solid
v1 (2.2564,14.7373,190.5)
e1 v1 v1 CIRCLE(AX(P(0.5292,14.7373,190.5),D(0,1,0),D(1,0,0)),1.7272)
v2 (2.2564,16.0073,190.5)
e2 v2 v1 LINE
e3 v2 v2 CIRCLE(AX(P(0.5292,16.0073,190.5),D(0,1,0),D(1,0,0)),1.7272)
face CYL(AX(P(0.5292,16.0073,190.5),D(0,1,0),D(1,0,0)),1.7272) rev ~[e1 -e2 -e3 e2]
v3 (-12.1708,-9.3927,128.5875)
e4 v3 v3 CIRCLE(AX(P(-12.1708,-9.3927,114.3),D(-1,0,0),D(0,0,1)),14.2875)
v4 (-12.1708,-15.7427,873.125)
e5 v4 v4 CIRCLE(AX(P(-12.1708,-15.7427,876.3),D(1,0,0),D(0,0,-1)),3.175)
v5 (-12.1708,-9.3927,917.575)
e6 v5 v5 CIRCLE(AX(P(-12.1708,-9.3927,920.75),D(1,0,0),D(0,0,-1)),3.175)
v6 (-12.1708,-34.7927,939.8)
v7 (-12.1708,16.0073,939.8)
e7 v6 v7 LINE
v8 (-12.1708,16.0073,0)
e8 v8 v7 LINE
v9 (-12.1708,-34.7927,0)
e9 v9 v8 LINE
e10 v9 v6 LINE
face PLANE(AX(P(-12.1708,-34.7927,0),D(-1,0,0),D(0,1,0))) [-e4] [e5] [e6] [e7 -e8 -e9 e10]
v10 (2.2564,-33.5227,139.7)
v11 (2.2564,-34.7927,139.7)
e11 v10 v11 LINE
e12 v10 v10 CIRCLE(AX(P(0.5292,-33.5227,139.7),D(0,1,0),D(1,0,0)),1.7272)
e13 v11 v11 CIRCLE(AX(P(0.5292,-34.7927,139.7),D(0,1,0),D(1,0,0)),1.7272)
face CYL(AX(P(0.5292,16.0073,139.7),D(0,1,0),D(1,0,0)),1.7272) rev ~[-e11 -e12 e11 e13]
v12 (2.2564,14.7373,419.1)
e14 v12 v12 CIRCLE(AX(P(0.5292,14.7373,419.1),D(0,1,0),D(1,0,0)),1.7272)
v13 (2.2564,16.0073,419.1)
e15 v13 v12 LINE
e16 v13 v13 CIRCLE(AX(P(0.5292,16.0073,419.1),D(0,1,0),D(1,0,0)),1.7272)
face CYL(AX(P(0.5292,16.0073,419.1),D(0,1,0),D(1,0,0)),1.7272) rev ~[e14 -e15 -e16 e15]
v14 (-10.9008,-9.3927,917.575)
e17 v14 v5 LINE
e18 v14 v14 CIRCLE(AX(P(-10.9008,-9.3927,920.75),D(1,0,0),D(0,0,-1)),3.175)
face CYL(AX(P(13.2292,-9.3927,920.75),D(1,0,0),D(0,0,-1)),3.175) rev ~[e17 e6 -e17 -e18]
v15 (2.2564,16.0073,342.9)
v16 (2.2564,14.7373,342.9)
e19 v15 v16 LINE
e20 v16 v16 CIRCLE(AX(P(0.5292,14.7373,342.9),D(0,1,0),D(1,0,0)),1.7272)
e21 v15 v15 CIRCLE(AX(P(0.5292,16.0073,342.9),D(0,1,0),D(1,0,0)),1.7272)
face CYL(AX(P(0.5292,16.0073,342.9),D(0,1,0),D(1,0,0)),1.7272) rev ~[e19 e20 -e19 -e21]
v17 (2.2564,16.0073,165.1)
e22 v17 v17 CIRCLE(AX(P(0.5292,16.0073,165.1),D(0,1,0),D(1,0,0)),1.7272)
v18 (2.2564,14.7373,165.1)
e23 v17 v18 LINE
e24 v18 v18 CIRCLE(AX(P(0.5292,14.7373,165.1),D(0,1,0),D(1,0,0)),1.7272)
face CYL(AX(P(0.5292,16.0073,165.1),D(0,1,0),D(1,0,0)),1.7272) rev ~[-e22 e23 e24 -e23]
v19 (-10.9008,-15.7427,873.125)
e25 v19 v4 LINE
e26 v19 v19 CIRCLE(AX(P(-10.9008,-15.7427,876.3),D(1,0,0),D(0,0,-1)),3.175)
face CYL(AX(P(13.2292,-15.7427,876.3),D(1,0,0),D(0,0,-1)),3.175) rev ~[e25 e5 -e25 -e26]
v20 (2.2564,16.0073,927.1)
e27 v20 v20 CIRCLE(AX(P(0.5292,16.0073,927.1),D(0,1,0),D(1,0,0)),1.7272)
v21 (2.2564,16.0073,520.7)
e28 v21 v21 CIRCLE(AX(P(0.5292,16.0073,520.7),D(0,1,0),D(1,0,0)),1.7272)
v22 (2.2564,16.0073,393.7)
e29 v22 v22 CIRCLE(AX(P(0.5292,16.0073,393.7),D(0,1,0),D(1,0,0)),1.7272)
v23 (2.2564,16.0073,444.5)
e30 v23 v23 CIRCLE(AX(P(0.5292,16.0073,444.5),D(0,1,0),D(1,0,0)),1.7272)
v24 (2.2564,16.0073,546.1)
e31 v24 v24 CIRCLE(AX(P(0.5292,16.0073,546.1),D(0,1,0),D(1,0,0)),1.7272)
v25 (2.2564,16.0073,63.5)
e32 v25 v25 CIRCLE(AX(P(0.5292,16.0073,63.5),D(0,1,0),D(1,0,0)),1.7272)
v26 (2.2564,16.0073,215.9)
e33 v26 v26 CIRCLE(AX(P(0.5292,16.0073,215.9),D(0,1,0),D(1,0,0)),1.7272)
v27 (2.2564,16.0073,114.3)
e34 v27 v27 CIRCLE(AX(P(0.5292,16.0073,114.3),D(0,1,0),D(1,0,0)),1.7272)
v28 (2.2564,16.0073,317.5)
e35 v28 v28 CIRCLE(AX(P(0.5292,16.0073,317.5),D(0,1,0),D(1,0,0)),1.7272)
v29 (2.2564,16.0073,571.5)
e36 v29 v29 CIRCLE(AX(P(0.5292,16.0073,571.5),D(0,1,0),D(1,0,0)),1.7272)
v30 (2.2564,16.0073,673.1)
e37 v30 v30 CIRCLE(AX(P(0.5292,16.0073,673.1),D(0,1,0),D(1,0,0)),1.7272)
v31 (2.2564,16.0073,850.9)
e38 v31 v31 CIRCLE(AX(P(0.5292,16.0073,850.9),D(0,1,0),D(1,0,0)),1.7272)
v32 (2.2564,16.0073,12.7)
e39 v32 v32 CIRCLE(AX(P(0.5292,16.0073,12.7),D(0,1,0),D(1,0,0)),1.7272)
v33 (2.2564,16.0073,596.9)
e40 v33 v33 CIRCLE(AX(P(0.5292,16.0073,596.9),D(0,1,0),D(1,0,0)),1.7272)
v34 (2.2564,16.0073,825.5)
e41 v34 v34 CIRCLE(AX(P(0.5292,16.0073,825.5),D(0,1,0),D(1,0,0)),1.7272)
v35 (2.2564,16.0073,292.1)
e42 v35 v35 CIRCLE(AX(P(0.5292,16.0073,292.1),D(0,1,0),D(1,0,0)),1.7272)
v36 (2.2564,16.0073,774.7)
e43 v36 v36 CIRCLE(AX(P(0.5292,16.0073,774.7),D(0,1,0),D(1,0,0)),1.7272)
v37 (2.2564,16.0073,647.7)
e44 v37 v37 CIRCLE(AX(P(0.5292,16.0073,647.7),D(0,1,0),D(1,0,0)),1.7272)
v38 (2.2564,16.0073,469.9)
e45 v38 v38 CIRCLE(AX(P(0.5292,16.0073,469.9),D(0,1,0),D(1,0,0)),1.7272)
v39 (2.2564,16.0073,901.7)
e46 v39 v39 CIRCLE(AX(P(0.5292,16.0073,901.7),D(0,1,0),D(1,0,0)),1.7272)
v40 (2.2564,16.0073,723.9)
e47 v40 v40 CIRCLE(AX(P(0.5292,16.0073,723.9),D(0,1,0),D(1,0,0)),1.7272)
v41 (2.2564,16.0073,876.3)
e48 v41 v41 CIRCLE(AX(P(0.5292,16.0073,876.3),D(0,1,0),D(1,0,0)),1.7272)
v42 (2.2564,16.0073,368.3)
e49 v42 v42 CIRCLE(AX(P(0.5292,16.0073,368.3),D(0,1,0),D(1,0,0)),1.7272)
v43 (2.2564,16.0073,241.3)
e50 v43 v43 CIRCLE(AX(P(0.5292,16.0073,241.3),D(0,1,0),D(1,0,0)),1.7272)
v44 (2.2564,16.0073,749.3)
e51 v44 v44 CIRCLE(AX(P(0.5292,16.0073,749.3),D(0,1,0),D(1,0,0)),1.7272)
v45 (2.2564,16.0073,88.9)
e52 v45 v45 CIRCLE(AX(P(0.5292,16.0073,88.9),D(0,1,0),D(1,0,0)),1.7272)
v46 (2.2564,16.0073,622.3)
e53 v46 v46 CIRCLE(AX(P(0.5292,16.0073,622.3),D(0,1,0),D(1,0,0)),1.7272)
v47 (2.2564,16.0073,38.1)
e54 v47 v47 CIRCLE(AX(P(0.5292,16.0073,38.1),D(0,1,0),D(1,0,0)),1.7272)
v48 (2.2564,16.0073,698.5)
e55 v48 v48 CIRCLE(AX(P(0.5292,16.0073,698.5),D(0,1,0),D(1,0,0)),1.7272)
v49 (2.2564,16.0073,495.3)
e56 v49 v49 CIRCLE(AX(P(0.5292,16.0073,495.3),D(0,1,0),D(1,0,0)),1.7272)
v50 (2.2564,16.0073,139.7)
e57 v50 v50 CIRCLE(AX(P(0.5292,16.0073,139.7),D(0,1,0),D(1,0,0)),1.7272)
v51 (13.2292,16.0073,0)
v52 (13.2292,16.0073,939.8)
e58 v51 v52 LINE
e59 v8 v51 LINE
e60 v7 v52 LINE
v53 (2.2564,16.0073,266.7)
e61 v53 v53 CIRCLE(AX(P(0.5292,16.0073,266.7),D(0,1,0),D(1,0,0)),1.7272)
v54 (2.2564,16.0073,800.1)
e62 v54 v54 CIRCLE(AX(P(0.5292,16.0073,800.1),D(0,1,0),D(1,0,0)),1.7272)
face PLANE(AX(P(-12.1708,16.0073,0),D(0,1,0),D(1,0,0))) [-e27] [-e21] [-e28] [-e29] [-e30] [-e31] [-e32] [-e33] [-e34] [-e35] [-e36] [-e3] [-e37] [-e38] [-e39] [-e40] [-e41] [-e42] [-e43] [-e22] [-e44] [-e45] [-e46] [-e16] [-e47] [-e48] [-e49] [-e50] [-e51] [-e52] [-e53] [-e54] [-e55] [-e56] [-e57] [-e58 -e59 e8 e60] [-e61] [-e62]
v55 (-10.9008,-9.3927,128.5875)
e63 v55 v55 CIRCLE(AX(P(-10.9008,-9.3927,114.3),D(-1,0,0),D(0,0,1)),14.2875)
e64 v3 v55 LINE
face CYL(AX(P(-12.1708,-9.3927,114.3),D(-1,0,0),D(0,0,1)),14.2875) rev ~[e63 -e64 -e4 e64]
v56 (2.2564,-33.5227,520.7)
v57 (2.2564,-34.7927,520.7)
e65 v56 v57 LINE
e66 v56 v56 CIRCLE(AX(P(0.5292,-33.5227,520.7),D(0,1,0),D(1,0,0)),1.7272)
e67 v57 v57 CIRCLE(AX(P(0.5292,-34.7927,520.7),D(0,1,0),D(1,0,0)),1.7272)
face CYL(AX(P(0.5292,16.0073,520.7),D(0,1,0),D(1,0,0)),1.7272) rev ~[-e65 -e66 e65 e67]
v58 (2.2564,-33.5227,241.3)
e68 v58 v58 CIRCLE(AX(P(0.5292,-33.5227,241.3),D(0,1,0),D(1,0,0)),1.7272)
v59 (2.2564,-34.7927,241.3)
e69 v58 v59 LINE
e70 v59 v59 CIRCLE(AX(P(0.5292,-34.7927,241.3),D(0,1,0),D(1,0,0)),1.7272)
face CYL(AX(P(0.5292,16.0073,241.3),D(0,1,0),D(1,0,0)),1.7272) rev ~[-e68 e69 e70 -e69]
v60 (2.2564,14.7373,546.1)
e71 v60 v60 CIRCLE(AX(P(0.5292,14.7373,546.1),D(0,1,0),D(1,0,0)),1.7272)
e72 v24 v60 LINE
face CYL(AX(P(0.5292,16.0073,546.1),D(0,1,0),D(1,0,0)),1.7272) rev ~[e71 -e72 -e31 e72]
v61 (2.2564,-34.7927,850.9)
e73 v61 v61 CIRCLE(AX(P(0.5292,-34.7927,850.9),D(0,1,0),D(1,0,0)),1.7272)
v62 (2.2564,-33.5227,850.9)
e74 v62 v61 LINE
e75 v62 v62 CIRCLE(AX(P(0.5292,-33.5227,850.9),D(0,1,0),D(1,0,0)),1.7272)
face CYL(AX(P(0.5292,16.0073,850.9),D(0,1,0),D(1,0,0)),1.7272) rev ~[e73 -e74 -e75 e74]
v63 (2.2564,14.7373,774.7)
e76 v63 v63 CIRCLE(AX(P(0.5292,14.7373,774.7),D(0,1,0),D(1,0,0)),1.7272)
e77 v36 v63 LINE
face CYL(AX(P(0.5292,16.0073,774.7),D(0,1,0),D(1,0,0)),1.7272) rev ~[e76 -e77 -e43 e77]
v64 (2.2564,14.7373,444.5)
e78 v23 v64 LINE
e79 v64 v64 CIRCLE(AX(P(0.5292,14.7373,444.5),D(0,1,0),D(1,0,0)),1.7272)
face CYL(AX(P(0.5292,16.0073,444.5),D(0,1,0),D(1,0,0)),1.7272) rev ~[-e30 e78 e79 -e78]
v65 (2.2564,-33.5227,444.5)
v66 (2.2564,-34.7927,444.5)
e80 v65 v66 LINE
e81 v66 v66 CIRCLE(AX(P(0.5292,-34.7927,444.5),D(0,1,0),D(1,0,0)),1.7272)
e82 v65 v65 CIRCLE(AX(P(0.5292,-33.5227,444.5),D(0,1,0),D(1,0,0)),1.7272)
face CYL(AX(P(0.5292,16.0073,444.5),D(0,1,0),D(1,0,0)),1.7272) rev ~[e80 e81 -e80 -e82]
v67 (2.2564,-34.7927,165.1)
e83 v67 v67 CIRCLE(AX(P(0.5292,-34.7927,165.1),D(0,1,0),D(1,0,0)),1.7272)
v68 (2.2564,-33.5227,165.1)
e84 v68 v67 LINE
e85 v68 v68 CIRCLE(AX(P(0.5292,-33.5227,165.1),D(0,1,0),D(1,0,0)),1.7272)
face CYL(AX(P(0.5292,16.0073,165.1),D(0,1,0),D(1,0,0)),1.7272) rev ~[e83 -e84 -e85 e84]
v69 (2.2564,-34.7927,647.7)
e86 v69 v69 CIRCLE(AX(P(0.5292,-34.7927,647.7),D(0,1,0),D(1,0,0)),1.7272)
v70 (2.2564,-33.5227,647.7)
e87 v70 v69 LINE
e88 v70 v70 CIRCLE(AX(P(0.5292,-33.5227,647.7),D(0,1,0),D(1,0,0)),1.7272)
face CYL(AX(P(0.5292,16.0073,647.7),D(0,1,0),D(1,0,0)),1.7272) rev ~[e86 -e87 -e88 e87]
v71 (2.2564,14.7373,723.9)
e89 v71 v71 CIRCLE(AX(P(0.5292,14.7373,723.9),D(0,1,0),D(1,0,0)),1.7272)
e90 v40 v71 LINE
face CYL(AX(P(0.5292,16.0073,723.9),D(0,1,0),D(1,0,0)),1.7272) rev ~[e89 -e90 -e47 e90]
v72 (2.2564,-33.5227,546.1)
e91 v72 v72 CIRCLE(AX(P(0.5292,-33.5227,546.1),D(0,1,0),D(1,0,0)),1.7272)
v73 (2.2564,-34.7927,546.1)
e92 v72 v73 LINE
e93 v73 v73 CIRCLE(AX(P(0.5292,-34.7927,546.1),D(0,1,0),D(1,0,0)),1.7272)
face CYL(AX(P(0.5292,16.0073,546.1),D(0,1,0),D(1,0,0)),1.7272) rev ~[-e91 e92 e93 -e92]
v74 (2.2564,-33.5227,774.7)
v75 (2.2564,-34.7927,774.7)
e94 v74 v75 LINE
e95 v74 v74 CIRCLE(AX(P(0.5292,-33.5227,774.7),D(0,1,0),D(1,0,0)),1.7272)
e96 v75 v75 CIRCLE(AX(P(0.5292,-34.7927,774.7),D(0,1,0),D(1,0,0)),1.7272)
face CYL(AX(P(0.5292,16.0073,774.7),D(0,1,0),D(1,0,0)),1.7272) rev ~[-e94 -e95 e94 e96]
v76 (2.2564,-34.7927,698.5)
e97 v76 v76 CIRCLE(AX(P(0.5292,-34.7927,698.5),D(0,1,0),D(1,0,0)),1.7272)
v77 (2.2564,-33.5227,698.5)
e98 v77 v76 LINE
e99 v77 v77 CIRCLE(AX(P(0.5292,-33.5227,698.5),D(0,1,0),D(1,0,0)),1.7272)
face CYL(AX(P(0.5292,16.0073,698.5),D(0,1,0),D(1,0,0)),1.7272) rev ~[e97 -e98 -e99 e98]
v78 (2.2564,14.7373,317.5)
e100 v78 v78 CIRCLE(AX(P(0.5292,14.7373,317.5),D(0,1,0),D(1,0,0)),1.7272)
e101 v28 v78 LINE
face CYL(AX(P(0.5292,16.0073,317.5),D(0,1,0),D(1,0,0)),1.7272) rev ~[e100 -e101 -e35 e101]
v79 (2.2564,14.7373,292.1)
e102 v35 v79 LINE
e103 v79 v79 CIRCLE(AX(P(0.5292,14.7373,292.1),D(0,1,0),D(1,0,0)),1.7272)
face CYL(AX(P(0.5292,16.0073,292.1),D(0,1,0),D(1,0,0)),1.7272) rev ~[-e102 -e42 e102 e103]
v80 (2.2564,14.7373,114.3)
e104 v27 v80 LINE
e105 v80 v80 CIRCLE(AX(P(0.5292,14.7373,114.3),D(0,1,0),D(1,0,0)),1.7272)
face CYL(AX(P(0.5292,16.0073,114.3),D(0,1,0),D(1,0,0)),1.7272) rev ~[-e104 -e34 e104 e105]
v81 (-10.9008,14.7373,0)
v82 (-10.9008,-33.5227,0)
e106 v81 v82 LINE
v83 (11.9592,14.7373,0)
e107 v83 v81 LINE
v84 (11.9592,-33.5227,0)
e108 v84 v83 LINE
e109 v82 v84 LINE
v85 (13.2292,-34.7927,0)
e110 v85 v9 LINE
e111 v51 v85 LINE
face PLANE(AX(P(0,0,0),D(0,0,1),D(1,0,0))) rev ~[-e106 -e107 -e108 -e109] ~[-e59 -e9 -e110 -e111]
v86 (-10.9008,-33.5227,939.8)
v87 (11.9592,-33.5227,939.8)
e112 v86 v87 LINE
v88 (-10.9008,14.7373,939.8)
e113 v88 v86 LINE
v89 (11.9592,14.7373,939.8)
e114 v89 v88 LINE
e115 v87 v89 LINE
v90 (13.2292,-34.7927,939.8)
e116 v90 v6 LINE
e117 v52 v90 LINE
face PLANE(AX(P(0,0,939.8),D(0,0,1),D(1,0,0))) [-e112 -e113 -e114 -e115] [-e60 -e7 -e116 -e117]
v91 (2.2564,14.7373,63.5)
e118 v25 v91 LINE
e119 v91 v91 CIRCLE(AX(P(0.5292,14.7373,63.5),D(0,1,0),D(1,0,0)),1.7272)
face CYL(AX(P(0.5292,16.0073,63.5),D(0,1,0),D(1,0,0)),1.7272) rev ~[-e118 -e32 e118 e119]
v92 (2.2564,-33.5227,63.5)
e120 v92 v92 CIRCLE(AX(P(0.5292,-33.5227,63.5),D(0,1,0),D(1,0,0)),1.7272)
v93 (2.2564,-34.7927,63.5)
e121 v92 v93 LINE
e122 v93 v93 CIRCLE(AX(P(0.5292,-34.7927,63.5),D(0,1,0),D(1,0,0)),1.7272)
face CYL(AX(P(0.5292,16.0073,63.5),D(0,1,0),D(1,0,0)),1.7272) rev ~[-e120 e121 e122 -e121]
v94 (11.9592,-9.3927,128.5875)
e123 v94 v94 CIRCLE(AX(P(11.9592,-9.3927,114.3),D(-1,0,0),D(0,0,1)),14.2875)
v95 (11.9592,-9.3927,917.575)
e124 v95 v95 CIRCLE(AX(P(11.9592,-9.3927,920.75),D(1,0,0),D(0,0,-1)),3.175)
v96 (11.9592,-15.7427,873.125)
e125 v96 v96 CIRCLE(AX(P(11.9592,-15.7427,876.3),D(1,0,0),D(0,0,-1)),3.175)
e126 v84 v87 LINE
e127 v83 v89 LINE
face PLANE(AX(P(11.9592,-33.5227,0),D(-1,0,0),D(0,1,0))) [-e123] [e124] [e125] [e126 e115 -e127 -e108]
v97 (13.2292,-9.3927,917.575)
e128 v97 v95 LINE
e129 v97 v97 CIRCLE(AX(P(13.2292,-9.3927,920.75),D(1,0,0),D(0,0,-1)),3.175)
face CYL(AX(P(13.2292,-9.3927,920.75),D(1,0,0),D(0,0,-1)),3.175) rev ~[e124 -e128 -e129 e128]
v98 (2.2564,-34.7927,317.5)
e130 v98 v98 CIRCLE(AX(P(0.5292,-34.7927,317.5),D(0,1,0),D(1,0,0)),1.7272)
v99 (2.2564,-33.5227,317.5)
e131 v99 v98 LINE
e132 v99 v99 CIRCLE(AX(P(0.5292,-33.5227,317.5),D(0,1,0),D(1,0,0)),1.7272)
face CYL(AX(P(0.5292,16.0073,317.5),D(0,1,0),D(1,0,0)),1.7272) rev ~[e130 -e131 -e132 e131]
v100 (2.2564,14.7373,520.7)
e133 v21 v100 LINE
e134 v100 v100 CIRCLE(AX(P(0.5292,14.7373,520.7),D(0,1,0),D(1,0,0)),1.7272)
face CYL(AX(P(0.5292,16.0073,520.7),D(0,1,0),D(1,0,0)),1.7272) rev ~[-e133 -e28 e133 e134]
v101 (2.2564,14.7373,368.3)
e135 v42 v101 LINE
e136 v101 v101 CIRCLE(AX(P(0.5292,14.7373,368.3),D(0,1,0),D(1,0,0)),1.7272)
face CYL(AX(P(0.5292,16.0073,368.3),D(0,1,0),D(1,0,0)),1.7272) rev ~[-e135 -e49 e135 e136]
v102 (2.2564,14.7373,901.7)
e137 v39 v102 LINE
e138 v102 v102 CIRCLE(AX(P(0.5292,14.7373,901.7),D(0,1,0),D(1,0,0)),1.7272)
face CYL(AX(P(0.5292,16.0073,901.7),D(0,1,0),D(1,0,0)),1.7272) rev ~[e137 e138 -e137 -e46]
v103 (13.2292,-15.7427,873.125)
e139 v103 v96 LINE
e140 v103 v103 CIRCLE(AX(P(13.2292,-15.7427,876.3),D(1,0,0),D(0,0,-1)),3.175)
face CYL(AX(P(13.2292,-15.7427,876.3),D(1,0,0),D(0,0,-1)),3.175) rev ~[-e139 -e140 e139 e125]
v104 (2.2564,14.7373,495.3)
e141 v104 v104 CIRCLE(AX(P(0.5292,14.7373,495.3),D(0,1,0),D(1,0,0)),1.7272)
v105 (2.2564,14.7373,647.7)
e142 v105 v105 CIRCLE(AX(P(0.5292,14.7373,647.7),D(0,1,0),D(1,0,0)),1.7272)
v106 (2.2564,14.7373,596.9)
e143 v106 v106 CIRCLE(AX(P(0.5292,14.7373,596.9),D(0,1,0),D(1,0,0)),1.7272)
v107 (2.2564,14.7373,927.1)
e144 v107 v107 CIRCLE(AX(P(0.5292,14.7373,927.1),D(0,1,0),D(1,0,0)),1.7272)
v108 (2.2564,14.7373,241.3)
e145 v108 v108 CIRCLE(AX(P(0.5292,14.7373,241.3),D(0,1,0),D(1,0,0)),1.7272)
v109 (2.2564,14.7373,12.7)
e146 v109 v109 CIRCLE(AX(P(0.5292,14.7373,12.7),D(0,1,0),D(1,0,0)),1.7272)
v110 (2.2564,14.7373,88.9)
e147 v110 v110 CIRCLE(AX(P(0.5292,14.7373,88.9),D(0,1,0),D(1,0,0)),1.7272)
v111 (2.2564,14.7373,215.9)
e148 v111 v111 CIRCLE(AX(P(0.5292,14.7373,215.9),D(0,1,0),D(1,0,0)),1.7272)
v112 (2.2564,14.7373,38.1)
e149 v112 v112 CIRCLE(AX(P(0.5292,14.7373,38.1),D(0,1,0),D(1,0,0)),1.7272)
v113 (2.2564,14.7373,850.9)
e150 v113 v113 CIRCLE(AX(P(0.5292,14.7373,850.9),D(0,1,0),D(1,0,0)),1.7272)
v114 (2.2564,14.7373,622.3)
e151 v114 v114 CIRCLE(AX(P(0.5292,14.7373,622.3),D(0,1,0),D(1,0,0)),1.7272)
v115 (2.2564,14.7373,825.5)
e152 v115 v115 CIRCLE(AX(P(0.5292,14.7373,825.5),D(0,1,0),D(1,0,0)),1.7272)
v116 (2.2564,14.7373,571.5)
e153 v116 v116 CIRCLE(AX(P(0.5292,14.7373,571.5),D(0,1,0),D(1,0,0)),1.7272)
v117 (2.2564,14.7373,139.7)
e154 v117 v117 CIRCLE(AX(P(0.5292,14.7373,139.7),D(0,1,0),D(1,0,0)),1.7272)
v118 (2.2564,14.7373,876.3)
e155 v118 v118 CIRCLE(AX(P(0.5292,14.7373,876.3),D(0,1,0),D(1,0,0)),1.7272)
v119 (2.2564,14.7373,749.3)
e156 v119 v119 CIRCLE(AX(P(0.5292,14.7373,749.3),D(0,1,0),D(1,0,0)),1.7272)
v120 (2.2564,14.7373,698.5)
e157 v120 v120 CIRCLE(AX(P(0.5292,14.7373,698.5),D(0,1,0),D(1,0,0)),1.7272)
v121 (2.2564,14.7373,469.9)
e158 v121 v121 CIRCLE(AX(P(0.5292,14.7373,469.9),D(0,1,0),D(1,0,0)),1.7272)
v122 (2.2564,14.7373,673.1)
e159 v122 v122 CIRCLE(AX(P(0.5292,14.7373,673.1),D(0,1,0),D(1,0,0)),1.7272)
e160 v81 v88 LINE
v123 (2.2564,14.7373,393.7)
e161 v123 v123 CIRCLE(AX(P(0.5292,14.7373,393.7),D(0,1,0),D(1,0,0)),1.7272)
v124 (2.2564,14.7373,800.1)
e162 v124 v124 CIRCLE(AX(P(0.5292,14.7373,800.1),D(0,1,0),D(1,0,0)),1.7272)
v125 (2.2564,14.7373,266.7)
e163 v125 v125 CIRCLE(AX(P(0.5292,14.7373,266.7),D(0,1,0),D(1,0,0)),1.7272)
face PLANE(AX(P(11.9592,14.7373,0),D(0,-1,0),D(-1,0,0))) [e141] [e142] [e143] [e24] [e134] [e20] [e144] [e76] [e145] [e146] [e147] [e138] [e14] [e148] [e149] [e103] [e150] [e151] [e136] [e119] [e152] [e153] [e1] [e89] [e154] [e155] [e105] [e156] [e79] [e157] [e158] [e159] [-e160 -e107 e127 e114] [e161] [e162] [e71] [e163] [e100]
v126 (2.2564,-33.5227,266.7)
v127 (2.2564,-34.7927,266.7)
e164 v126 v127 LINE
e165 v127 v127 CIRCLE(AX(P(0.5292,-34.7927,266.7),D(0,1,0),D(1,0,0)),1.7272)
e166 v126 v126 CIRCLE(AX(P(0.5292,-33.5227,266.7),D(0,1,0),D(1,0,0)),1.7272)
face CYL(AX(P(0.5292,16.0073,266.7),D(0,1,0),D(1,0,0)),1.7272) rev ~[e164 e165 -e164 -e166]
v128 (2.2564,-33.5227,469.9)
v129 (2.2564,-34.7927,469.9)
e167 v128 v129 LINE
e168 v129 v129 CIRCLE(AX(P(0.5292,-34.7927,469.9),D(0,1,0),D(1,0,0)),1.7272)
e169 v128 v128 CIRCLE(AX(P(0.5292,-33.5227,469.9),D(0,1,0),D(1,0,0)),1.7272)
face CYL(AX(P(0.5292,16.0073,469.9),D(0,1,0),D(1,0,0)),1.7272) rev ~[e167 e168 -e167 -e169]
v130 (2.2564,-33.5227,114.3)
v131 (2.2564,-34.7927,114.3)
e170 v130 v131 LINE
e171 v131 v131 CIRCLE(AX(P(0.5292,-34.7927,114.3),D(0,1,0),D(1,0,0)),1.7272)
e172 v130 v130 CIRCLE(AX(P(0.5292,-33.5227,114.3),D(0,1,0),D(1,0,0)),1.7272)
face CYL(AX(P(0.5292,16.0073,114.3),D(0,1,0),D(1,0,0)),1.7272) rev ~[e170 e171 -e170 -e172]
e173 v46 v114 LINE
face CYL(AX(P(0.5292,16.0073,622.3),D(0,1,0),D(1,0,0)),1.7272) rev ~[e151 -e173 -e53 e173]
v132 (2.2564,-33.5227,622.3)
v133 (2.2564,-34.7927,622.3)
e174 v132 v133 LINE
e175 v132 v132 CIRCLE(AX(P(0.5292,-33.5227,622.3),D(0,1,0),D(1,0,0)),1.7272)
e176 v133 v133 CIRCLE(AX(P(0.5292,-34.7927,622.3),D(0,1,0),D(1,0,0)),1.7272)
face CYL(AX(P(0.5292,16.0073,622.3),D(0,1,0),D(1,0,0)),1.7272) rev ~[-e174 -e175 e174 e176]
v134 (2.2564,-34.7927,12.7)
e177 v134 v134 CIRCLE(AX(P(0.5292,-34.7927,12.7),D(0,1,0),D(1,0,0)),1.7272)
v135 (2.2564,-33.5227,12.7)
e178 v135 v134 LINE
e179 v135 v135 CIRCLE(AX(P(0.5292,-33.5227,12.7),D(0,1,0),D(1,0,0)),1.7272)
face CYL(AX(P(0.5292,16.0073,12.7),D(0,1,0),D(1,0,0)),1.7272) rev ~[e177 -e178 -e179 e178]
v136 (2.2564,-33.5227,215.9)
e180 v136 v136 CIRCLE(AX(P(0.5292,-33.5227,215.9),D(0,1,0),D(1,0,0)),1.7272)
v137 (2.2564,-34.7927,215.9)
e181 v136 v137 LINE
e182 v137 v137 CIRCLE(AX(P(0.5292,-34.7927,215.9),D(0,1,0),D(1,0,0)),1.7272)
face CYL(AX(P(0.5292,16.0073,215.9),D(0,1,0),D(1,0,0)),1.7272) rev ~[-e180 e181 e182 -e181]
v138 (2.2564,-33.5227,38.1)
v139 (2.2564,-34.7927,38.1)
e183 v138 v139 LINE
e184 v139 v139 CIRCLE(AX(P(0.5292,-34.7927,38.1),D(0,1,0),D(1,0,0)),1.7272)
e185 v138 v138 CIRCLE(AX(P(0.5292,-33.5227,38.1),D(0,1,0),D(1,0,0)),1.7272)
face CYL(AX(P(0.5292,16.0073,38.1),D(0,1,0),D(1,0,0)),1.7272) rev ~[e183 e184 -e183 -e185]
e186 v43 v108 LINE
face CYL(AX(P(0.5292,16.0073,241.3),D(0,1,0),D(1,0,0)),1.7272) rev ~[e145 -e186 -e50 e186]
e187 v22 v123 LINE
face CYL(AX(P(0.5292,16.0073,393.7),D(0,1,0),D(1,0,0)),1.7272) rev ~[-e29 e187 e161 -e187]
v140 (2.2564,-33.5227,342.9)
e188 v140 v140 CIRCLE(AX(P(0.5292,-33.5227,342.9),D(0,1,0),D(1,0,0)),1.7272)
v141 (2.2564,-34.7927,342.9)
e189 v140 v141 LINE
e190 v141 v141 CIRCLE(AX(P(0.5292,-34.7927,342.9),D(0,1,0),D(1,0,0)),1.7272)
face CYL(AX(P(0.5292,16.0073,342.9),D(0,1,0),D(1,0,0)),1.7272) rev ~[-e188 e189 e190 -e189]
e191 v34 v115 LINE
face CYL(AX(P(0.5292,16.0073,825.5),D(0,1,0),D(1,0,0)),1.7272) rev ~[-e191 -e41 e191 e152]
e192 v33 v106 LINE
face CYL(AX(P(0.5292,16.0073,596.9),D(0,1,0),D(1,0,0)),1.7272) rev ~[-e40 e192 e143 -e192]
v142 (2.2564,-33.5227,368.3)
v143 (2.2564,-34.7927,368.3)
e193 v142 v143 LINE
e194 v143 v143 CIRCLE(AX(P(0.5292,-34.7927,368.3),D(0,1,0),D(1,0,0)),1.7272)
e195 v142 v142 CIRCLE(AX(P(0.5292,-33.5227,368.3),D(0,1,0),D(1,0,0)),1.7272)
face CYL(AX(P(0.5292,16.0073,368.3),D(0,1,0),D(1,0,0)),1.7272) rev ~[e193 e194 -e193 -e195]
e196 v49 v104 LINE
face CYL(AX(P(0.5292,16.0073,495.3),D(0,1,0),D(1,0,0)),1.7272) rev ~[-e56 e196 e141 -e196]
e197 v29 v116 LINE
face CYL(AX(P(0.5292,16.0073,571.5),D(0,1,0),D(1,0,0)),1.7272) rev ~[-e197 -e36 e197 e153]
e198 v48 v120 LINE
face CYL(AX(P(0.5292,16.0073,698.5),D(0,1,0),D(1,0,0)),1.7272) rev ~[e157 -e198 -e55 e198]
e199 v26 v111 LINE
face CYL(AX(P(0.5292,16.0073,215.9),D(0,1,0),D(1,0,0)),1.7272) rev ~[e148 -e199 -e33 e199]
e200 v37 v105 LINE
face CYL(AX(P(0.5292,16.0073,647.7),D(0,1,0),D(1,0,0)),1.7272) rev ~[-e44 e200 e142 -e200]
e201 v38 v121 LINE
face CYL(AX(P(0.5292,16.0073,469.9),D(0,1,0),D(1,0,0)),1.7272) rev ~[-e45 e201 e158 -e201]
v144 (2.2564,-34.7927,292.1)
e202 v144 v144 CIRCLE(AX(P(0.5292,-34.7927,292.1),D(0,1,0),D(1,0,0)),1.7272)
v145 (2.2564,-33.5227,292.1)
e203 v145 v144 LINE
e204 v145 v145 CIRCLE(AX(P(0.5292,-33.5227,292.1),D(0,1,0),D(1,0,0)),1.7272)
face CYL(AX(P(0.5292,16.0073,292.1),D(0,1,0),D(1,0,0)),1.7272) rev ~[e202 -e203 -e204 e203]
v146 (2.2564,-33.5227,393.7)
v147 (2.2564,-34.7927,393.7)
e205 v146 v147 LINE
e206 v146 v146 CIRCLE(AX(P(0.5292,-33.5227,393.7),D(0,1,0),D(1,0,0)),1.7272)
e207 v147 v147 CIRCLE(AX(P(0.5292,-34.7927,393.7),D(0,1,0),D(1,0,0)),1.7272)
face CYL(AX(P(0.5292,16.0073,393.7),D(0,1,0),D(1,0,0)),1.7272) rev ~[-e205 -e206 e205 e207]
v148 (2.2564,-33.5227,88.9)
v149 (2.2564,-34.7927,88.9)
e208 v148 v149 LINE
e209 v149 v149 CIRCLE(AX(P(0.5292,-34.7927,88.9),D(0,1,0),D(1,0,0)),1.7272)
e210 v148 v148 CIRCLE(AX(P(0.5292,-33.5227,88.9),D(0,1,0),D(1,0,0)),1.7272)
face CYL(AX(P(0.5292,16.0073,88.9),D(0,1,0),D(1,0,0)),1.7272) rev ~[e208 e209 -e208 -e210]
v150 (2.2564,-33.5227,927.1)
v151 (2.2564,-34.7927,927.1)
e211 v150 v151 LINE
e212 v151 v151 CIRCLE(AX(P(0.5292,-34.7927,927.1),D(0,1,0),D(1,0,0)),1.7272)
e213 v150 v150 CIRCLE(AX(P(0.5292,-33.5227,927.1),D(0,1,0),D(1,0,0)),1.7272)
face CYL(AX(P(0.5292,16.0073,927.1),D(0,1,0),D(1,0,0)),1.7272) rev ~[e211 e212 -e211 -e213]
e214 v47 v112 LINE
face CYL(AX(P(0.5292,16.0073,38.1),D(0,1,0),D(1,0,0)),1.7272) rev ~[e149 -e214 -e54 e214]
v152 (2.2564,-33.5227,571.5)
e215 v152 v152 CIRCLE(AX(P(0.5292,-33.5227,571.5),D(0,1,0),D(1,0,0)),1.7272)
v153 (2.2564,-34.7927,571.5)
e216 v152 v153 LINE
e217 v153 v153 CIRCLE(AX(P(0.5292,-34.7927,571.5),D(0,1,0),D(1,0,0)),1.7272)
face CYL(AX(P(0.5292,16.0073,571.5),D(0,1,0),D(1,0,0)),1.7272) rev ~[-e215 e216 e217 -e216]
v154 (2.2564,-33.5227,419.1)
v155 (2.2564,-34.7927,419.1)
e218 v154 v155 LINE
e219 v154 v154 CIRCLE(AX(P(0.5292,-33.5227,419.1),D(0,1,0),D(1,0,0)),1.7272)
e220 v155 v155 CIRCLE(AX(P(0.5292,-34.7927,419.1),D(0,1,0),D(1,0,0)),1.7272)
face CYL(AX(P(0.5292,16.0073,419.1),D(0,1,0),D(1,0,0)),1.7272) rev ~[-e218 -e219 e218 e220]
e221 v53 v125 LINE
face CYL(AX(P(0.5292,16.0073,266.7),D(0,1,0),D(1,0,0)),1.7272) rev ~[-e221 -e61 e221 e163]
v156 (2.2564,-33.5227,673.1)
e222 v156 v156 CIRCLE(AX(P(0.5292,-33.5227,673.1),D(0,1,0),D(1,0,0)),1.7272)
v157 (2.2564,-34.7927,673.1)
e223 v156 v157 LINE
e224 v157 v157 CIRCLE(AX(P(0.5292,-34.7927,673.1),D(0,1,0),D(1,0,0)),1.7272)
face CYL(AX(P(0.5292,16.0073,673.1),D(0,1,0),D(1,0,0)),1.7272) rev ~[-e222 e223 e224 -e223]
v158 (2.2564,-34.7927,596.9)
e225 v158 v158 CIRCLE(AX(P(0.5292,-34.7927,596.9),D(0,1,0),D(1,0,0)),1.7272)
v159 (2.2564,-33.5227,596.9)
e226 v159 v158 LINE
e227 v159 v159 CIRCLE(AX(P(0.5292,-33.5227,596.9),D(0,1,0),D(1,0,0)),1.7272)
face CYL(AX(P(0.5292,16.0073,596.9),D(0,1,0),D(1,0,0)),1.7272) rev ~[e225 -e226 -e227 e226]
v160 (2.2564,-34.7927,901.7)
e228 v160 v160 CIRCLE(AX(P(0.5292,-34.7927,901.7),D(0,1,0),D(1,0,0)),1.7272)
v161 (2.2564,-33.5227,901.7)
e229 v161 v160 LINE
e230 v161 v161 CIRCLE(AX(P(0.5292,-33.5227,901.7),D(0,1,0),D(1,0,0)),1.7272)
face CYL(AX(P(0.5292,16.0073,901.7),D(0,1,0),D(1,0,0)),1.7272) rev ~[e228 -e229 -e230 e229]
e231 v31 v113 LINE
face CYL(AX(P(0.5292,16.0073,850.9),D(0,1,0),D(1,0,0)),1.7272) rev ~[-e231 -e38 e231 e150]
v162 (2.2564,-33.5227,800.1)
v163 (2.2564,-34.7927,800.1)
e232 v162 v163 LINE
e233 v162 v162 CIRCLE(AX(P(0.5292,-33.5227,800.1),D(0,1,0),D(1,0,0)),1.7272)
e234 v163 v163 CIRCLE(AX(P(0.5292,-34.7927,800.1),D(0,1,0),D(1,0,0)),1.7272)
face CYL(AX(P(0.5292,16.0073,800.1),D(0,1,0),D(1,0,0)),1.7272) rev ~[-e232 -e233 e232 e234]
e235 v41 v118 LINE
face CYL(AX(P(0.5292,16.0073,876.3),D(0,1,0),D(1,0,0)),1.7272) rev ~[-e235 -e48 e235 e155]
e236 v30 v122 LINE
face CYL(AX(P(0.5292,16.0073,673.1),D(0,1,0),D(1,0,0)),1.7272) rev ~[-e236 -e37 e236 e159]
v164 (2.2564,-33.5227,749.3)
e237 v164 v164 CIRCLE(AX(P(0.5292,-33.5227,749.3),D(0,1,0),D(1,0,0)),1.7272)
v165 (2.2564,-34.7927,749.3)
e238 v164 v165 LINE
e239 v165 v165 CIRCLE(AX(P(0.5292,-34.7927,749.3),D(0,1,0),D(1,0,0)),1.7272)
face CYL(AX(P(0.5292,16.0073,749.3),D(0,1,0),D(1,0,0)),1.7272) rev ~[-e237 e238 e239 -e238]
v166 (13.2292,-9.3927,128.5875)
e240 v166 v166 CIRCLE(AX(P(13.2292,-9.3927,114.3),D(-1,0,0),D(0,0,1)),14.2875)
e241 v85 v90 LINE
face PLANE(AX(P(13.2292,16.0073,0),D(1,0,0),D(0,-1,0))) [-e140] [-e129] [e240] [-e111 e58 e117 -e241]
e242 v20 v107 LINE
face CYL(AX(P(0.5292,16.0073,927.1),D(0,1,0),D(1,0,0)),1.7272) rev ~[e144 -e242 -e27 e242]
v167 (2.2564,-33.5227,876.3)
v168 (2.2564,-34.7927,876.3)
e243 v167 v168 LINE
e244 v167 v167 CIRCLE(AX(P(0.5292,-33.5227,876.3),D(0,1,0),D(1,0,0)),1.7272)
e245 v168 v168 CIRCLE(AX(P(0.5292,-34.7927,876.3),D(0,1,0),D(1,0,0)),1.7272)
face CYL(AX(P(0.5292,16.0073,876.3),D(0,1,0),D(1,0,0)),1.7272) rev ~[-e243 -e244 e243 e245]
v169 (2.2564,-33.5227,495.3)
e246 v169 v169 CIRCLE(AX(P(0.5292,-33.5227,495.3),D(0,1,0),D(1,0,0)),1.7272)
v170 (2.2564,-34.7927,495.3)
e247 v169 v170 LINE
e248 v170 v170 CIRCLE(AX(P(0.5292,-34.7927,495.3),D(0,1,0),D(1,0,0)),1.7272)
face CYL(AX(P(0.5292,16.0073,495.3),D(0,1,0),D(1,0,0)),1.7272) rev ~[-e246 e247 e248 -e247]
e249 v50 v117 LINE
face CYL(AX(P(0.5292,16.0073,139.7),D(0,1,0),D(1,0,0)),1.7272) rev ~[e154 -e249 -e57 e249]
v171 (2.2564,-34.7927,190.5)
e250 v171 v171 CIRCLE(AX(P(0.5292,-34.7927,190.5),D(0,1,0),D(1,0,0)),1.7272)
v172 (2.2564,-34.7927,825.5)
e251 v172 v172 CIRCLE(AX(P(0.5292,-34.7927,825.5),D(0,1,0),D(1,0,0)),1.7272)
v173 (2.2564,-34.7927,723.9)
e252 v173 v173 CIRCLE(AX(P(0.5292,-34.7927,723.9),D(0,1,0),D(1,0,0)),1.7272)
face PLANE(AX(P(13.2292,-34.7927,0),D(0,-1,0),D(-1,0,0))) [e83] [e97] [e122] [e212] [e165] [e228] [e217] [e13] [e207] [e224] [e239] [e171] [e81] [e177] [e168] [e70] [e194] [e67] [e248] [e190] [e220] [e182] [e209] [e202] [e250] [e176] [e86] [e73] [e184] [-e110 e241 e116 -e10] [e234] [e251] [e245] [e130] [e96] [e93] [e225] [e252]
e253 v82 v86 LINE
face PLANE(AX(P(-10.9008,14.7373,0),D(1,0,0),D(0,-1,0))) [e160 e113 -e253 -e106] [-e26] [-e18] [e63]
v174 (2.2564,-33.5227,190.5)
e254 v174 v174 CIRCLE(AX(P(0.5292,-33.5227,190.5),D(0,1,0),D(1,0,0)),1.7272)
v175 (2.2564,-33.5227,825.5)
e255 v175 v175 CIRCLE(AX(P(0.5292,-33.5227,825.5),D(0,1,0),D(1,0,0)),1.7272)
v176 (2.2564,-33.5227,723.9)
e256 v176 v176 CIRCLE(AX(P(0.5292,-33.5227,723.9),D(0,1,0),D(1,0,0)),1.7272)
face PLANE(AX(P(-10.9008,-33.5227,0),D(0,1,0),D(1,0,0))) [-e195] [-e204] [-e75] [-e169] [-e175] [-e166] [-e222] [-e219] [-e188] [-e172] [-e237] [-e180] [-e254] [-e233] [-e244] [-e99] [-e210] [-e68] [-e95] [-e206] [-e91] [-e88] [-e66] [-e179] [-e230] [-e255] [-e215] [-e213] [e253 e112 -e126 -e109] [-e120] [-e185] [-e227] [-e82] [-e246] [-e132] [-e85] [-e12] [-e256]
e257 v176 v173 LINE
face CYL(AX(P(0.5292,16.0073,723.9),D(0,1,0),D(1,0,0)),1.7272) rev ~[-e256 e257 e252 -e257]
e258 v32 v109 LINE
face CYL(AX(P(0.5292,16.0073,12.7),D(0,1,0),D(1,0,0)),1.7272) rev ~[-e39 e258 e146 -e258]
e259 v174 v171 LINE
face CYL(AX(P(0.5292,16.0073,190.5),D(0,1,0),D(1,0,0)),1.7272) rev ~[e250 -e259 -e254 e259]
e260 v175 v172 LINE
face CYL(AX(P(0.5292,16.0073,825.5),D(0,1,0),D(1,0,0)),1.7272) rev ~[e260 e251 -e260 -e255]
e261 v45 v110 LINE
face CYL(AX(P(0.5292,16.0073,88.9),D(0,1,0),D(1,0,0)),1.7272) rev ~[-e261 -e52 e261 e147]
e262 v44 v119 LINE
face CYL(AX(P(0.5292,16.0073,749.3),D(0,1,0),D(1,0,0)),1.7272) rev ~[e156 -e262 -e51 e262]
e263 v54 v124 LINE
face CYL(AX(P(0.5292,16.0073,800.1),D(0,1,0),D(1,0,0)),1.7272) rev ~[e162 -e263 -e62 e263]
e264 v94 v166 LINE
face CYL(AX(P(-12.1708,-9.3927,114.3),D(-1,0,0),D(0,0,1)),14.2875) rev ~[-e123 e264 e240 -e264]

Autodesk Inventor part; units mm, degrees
ref_plane "YZ Plane" through (0, 0, 0) normal (1, 0, 0) x (0, 1, 0)
ref_plane "XZ Plane" through (0, 0, 0) normal (0, 1, 0) x (-1, 0, 0)
ref_plane "XY Plane" through (0, 0, 0) normal (0, 0, 1) x (1, 0, 0)
sketch "Sketch1" plane through (0, 0, 0) normal (0, 0, 1) x (1, 0, 0)
  line L0 (-12.1708, 16.0073) -> (13.2292, 16.0073)
  line L1 (13.2292, 16.0073) -> (13.2292, -34.7927)
  line L2 (13.2292, -34.7927) -> (-12.1708, -34.7927)
  line L3 (-12.1708, -34.7927) -> (-12.1708, 16.0073)
  line L4 (11.9592, 14.7373) -> (-10.9008, 14.7373)
  line L5 (-10.9008, 14.7373) -> (-10.9008, -33.5227)
  line L6 (-10.9008, -33.5227) -> (11.9592, -33.5227)
  line L7 (11.9592, -33.5227) -> (11.9592, 14.7373)
  point P0 (0, 0)
  dimension "d0" = 25.4
  dimension "d1" = 50.8
  dimension "d2" = 1.27
extrude "Extrusion1" add sketch "Sketch1" along normal blind 939.8
sketch "Sketch2" plane through (-12.1708, 16.0073, 0) normal (0, 1, 0) x (1, 0, 0)
  circle A0 centre (12.7, -12.7) radius 1.7272
  line L0 (25.4, 0) -> (0, 0) projected
  line L1 (0, 0) -> (0, -939.8) projected
  point P0 (12.1708, 0)
  dimension "d5" = 3.4544
  dimension "d6" = 12.7
  dimension "d7" = 12.7
extrude "Extrusion2" cut sketch "Sketch2" against normal through all
pattern_linear "Rectangular Pattern1" count 94 spacing 25.4 along (0, 0, 1) of "Extrusion2"
sketch "Sketch5" plane through (-12.1708, -34.7927, 0) normal (-1, 0, 0) x (0, 0, 1)
  line L0 (0, 50.8) -> (0, 0) projected
  line L1 (889, 50.8) -> (939.8, 50.8)
  line L2 (939.8, 50.8) -> (939.8, 203.2)
  line L3 (939.8, 203.2) -> (889, 203.2)
  line L4 (889, 203.2) -> (889, 50.8)
  circle A0 centre (914.4, 101.6) radius 14.2875
  point P0 (0, 34.7927)
  point P1 (914.4, 50.8)
  dimension "d48" = 50.8
  dimension "d49" = 152.4
  dimension "d50" = 28.575
  dimension "d51" = 50.8
sketch "Sketch6" plane through (-12.1708, -34.7927, 0) normal (-1, 0, 0) x (0, 0, 1)
  circle A0 centre (114.3, 25.4) radius 14.2875
  line L0 (939.8, 50.8) -> (939.8, 0) projected
  line L1 (0, 49.53) -> (0, 1.27) projected
  point P0 (0, 34.7927)
  point P1 (939.8, 25.4)
  dimension "d52" = 28.575
  dimension "d56" = 114.3
extrude "Extrusion5" cut sketch "Sketch6" against normal blind 25.4
sketch "Sketch7" plane through (13.2292, -34.7927, 0) normal (1, 0, 0) x (0, 0, -1)
  circle A0 centre (-920.75, 25.4) radius 3.175
  line L0 (-939.8, 0) -> (-939.8, 50.8) projected
  point P0 (0, 34.7927)
  point P1 (-939.8, 25.4)
  dimension "d57" = 6.35
  dimension "d58" = 19.05
extrude "Extrusion6" cut sketch "Sketch7" against normal blind 25.4
sketch "Sketch8" plane through (13.2292, -34.7927, 0) normal (1, 0, 0) x (0, 0, -1)
  circle A0 centre (-876.3, 19.05) radius 3.175
  line L0 (-939.8, 0) -> (-939.8, 50.8) projected
  line L1 (0, 50.8) -> (-939.8, 50.8) projected
  line L2 (0, 0) -> (-939.8, 0) projected
  point P0 (0, 34.7927)
  dimension "d61" = 6.35
  dimension "d62" = 63.5
  dimension "d66" = 19.05
extrude "Extrusion7" cut sketch "Sketch8" against normal blind 25.4
equation "\"d3\" = d13"
equation "\"d10\" = d14"
equation "\"d13\" = 939.8"
equation "\"d14\" = d13"
equation "\"d32\" = 101.6"
properties part number "ElevatorPivotBar3"
